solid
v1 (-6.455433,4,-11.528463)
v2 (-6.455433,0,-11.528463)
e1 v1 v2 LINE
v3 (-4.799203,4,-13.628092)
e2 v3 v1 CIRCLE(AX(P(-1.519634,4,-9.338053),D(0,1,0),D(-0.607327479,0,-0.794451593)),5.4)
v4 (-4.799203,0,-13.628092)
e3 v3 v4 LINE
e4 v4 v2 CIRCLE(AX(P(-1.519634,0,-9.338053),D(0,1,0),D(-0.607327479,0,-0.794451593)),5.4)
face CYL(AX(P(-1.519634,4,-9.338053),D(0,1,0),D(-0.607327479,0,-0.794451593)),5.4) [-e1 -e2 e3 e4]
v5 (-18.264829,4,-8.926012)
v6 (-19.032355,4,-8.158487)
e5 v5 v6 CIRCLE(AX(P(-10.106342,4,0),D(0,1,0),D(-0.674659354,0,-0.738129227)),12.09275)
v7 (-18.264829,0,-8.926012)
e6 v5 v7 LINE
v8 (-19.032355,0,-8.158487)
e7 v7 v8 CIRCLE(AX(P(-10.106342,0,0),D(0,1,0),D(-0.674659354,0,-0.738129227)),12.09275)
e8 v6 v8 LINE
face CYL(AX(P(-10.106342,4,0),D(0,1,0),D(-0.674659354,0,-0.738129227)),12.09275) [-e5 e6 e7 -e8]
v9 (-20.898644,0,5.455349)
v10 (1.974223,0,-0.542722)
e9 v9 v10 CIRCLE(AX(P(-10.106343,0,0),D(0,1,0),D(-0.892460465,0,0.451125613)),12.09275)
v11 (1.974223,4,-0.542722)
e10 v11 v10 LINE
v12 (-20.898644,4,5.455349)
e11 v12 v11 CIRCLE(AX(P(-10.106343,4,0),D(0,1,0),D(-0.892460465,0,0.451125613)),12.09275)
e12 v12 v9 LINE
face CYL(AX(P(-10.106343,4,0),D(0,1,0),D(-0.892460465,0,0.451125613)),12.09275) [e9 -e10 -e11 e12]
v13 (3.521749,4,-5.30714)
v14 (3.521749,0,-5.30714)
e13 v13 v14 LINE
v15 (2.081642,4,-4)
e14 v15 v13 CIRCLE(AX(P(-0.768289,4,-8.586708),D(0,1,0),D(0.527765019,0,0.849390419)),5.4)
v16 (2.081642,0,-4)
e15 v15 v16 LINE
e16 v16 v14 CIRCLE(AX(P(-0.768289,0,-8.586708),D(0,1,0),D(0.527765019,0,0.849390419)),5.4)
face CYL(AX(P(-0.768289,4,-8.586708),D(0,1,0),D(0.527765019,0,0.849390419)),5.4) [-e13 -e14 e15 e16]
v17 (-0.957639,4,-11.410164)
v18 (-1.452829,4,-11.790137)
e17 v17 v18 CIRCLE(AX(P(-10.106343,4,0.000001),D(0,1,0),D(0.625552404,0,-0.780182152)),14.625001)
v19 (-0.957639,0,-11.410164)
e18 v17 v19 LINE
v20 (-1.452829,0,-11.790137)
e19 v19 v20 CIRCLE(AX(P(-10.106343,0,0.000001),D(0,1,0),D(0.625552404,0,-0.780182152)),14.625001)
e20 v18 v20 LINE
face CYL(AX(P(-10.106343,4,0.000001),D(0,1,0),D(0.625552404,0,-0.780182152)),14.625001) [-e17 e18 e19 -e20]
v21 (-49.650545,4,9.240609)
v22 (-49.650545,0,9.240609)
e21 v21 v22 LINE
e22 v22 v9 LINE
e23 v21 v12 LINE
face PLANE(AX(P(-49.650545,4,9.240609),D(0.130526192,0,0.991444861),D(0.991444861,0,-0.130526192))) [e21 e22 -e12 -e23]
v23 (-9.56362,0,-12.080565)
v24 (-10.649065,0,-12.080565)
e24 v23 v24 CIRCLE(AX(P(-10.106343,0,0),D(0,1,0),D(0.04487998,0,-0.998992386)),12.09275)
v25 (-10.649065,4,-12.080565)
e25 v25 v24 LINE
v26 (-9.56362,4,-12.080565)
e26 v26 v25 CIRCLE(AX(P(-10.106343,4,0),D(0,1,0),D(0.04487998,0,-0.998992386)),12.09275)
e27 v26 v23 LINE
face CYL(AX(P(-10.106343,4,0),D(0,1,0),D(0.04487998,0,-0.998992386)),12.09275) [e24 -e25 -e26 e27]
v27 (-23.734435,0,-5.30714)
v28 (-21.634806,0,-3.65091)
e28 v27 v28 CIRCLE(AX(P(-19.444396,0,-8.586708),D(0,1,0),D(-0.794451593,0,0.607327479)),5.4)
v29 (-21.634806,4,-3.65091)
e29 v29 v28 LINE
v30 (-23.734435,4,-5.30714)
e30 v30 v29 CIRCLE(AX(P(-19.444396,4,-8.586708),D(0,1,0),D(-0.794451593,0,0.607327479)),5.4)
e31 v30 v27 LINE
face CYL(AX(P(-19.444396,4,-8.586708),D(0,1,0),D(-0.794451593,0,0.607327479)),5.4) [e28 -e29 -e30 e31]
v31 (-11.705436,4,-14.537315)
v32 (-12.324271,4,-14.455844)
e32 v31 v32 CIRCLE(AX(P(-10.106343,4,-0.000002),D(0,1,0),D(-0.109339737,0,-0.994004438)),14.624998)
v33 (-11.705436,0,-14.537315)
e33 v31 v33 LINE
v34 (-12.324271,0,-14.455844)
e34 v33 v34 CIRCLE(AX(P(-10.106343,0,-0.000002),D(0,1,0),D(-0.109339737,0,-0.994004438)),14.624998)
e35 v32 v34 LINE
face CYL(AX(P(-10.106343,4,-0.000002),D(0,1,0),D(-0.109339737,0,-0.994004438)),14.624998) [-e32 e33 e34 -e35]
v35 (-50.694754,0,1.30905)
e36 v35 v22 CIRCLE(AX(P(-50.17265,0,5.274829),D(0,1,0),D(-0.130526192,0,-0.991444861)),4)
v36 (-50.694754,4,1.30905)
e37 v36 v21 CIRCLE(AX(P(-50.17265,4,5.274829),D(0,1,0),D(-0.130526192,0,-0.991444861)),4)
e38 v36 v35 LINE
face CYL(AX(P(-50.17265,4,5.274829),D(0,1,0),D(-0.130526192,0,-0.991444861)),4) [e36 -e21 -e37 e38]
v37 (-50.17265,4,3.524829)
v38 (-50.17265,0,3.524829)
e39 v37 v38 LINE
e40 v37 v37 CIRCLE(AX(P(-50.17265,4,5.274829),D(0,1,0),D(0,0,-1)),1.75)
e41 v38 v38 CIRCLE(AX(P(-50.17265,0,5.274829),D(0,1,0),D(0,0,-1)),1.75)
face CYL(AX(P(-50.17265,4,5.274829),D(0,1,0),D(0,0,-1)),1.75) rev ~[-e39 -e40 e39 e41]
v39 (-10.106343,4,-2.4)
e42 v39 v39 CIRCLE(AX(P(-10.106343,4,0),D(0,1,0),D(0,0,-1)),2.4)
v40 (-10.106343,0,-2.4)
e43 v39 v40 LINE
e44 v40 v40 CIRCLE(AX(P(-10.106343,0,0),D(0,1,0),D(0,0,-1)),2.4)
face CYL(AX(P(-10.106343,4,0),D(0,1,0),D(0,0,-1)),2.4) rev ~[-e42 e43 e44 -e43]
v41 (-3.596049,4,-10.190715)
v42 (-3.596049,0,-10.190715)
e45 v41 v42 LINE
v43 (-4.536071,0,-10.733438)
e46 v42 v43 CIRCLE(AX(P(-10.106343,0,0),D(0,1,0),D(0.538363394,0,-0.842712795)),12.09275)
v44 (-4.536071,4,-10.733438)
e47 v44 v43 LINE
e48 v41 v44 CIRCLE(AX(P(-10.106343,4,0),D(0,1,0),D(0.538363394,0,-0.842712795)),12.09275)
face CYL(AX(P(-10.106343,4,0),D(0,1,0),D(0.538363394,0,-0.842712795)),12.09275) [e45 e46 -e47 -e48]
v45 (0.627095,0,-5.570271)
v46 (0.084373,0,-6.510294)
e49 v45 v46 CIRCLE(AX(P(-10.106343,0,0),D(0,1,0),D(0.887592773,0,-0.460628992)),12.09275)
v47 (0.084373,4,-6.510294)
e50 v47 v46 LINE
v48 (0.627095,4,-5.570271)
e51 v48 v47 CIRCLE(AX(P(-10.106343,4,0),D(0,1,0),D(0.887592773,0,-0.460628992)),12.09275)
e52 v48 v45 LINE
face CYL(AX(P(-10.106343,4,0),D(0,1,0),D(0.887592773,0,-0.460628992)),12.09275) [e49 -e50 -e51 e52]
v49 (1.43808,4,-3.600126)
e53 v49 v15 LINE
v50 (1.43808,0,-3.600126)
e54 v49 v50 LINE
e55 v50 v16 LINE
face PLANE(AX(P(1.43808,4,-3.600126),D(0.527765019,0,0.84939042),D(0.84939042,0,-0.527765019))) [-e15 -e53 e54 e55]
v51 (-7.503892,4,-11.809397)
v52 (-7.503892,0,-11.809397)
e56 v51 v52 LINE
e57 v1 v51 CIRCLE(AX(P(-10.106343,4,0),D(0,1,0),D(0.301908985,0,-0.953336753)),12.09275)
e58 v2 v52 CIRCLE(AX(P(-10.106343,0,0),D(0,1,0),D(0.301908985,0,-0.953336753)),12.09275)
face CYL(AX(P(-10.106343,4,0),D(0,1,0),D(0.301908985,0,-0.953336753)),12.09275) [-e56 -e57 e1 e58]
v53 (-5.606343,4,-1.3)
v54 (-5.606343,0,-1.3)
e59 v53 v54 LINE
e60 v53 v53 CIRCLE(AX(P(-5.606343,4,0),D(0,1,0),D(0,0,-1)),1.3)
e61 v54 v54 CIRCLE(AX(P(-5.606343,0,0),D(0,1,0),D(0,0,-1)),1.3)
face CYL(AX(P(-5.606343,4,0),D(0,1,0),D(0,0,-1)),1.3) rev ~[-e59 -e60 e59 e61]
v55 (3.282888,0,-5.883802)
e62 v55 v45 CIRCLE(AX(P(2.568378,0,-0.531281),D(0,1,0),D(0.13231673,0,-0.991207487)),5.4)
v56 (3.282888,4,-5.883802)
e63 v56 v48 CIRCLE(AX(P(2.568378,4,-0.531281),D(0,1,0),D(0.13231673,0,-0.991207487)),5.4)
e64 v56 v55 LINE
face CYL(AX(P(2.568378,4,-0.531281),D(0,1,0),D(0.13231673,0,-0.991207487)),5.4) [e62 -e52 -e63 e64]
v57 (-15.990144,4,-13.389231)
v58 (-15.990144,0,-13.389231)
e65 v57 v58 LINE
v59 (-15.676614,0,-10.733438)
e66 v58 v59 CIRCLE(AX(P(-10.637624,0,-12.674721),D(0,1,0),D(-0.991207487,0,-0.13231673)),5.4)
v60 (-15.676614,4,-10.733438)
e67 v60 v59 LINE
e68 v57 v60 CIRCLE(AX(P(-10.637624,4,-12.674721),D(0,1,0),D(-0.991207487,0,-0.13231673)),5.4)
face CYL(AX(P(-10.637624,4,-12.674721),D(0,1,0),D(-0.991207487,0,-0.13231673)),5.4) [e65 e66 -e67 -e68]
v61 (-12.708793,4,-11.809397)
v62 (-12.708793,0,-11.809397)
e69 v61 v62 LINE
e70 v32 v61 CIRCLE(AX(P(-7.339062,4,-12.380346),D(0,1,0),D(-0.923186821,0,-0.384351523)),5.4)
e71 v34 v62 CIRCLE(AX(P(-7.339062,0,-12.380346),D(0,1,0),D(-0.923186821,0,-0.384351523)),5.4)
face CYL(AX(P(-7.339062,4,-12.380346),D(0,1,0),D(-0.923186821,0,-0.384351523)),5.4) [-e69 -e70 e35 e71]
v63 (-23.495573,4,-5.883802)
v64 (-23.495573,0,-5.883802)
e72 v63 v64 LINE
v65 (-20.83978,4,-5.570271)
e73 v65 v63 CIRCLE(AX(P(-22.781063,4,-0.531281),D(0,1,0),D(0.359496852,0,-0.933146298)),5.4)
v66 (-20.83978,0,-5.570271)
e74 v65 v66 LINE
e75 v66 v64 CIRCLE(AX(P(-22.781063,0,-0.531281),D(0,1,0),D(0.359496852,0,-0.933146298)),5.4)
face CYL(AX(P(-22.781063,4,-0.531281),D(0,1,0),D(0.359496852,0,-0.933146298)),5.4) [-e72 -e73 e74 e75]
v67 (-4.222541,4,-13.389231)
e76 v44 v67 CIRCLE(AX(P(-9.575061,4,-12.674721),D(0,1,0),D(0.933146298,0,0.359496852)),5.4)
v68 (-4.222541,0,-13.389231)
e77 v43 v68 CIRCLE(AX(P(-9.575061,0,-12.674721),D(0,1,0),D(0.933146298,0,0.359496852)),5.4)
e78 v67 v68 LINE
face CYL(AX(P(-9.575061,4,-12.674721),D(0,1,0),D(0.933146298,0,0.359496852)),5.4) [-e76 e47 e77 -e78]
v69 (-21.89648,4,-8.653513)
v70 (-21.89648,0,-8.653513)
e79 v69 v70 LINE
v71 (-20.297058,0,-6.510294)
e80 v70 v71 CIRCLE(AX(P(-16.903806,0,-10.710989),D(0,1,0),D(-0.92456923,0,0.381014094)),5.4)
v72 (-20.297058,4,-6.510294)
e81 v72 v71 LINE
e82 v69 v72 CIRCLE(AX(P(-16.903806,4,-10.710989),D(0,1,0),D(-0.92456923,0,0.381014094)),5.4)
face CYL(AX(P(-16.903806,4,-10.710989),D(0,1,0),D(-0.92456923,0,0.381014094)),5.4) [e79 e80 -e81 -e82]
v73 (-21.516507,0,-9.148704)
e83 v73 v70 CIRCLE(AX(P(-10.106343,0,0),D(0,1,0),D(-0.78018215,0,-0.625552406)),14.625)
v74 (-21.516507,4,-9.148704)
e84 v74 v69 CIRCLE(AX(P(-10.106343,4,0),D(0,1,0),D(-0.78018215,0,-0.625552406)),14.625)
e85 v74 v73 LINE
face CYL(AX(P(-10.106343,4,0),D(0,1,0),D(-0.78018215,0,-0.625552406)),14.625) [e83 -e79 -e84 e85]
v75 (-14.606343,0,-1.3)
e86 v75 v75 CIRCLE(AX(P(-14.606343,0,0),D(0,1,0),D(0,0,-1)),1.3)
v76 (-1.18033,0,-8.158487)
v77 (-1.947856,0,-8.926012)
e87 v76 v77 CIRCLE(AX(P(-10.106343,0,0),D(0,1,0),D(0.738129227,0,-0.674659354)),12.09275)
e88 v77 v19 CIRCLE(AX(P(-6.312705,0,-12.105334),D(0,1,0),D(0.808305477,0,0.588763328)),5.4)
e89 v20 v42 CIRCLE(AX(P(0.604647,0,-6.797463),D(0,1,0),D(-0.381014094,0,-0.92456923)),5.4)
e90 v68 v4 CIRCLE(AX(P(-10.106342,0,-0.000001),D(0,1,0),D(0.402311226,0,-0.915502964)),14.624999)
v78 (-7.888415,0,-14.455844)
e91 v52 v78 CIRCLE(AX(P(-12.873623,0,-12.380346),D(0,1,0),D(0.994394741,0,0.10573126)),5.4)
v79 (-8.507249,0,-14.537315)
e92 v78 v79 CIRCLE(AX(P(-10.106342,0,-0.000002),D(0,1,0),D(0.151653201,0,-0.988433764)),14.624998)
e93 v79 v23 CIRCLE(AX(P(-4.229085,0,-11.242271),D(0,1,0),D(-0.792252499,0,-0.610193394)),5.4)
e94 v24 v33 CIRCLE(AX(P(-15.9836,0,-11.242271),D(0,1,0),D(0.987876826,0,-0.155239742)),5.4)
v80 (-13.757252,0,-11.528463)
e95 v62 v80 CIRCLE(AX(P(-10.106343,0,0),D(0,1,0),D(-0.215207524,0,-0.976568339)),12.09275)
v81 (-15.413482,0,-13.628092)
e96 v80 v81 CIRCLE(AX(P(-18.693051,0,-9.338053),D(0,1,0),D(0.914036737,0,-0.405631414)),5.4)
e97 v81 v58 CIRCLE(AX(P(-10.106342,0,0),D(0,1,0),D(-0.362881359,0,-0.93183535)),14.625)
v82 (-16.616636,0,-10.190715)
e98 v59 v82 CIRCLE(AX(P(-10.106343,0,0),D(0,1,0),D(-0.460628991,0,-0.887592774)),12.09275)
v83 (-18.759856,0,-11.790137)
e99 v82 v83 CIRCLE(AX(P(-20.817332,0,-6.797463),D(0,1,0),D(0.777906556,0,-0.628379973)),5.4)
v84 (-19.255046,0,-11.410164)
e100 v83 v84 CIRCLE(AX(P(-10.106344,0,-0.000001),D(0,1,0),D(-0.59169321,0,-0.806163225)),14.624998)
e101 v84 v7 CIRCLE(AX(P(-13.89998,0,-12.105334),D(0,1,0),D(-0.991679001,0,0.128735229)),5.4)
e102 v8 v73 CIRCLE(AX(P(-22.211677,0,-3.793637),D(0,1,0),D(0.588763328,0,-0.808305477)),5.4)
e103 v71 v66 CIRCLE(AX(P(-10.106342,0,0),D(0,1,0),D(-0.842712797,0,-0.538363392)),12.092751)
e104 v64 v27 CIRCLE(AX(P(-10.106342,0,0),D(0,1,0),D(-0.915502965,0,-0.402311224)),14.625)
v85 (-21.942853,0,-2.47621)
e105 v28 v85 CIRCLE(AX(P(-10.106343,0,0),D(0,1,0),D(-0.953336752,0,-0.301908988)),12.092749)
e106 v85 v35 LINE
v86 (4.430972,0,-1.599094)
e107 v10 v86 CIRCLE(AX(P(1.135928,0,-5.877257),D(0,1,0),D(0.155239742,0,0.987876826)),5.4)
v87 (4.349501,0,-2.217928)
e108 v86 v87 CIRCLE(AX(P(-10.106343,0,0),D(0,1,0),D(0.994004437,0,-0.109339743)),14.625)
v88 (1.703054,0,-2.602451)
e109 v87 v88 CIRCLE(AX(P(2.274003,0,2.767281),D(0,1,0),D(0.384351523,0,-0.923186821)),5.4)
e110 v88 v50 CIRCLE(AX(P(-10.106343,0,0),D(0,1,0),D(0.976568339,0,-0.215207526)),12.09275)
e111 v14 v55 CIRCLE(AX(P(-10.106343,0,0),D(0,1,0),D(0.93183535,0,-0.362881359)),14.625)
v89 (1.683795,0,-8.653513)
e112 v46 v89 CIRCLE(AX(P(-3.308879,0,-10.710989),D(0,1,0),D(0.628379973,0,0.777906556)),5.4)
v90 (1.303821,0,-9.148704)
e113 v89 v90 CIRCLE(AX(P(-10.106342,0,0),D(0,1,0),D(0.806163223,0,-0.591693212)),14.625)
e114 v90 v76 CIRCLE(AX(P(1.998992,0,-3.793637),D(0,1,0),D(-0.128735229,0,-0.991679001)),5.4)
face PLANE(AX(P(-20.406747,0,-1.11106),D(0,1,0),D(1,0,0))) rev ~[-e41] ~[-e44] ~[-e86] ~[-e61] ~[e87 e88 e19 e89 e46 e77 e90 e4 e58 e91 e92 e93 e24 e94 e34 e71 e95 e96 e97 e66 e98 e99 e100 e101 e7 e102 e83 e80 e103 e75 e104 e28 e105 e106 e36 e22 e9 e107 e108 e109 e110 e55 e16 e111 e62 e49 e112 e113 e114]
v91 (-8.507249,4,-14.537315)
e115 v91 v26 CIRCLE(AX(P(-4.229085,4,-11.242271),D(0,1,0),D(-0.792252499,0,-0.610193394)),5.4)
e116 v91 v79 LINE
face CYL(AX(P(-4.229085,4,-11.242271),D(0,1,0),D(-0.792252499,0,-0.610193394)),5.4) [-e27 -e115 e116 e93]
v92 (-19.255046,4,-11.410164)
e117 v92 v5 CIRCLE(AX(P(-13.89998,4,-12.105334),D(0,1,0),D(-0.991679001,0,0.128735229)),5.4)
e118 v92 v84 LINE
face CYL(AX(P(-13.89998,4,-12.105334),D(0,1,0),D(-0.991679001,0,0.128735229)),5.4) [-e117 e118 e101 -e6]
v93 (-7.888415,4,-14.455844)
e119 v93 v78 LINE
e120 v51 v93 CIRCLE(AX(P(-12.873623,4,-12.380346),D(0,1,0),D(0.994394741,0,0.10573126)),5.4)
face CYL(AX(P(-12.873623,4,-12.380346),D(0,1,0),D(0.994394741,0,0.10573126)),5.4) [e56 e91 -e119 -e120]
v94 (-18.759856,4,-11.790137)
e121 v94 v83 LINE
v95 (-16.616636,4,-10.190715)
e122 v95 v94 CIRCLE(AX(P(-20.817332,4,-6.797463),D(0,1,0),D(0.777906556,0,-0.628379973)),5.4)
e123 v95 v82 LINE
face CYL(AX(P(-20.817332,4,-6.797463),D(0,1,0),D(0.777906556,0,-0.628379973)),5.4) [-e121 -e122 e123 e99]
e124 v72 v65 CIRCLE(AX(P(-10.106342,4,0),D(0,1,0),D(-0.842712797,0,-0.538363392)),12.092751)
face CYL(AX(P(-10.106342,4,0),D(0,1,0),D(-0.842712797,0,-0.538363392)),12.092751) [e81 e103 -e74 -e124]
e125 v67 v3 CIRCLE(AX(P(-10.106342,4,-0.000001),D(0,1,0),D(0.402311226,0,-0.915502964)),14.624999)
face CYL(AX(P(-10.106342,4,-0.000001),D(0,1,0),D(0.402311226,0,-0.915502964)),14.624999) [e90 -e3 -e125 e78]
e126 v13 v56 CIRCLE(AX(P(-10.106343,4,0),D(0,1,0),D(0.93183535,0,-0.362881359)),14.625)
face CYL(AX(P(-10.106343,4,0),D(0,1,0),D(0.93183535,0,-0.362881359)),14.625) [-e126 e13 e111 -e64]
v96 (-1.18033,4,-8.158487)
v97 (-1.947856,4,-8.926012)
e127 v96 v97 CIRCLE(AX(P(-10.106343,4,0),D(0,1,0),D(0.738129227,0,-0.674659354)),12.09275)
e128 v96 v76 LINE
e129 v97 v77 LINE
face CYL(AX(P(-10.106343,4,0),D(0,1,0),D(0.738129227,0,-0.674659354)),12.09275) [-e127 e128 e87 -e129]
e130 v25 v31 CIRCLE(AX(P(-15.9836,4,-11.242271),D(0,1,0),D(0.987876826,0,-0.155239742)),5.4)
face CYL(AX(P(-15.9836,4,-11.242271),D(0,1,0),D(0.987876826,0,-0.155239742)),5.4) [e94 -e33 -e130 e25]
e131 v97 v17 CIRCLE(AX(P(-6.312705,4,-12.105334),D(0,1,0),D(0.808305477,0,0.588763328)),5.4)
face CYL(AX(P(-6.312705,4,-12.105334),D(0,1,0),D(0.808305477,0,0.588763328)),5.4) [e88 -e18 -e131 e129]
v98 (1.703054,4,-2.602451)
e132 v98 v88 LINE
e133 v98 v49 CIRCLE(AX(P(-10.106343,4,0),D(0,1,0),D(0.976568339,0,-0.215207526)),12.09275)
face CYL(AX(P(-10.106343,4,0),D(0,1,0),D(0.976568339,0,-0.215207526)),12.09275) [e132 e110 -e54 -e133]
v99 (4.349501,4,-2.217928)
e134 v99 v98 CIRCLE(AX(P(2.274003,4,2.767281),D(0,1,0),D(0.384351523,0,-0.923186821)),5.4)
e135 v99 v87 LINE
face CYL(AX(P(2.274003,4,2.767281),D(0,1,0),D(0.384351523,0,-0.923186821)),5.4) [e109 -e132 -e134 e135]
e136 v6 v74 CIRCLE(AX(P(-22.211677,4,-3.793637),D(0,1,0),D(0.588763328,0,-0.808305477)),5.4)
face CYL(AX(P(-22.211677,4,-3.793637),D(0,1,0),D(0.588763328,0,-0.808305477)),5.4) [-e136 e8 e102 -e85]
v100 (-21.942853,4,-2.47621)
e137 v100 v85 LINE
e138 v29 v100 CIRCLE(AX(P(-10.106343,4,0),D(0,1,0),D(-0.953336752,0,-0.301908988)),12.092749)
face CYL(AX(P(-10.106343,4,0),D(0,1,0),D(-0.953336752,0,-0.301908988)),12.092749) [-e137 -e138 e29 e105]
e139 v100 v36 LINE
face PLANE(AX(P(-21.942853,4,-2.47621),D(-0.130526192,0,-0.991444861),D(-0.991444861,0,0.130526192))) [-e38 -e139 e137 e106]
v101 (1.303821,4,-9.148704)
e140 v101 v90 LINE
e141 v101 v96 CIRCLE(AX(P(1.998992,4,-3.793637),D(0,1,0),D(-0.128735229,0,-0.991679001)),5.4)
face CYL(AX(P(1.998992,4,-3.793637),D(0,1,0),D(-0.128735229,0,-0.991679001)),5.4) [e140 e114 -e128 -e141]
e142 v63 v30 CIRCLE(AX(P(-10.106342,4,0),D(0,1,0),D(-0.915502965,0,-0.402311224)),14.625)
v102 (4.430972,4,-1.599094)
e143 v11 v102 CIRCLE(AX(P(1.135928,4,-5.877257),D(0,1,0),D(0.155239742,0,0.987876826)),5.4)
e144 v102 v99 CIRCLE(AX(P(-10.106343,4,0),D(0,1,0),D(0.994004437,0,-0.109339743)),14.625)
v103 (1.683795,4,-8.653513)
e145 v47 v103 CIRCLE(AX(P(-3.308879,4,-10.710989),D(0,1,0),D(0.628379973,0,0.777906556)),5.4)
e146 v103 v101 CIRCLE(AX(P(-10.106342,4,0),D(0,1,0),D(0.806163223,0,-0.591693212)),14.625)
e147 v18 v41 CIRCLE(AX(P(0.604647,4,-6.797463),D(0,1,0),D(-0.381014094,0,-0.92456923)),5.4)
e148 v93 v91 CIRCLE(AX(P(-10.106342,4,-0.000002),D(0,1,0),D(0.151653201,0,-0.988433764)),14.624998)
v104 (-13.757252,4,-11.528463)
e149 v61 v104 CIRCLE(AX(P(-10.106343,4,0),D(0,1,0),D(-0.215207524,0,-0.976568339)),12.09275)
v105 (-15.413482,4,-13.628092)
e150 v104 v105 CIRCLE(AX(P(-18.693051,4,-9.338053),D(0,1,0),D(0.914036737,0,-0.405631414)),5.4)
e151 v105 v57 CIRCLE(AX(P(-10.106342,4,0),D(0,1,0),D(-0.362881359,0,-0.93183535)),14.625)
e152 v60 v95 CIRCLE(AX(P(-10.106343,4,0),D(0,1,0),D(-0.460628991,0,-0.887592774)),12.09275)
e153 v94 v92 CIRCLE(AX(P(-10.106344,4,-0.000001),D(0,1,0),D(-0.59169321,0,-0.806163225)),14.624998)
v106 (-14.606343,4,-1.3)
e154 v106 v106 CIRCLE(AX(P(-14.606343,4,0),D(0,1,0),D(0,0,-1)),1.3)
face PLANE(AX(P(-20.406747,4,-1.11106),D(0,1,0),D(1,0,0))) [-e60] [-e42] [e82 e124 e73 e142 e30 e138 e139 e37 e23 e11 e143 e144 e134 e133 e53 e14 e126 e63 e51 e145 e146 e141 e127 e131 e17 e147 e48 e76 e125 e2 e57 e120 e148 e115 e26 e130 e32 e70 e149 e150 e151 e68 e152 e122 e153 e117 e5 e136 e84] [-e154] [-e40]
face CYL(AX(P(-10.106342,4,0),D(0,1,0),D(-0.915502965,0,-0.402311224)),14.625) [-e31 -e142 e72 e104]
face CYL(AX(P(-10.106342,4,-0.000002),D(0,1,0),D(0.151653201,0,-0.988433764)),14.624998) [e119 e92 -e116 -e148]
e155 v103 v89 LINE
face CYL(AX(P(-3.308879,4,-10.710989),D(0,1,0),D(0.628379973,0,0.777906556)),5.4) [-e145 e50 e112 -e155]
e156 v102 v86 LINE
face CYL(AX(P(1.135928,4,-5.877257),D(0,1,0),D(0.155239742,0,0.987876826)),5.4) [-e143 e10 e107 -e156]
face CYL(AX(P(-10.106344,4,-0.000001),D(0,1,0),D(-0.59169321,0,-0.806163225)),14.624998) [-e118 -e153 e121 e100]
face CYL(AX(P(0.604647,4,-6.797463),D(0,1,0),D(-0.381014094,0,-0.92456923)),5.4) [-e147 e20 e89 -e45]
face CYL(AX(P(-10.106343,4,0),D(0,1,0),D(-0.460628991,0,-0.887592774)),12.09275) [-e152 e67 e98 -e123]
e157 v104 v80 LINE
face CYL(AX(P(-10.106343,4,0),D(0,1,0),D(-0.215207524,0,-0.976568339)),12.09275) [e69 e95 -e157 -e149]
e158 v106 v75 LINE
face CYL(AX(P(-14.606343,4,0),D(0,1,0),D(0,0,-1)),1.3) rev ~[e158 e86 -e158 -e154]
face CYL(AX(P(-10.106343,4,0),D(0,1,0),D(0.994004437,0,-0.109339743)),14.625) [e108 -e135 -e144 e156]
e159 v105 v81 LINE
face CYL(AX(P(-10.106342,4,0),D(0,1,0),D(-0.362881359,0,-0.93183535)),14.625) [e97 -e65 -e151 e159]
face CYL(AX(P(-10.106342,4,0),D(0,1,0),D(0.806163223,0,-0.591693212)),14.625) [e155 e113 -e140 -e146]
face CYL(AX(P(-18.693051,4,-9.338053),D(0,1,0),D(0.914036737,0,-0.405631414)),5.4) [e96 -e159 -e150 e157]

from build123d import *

# Parameters (mm, degrees)
SKETCH1_R           = 1.75
SKETCH1_R_2         = 2.4
SKETCH1_R_3         = 1.3
BOSS_EXTRUDE1_DEPTH = 4


with BuildPart() as part:
    # Sketch1 → Boss-Extrude1 (new body)
    with BuildSketch(Plane(origin=(0, 4, 0), x_dir=(1, 0, 0), z_dir=(0, 1, 0))):
        with BuildLine():
            Line((1.43808022, 3.600125745), (2.081641936, 4))
            ThreePointArc((2.081641936, 4), (2.861028333, 4.588201733), (3.521749436, 5.30713988))
            ThreePointArc((3.521749436, 5.30713988), (3.405395609, 5.596745198), (3.282888305, 5.883801663))
            ThreePointArc((3.282888305, 5.883801663), (1.93527598, 5.894040025), (0.627094961, 5.57027124))
            ThreePointArc((0.627094961, 5.57027124), (0.366286148, 6.046375), (0.084372603, 6.510293938))
            ThreePointArc((0.084372603, 6.510293938), (1.018855105, 7.48132754), (1.683794586, 8.65351323))
            ThreePointArc((1.683794586, 8.65351323), (1.496450048, 8.903135899), (1.303821399, 9.148703928))
            ThreePointArc((1.303821399, 9.148703928), (-0.000522033, 8.809805691), (-1.180330337, 8.158486898))
            ThreePointArc((-1.180330337, 8.158486898), (-1.555477026, 8.550865528), (-1.947855656, 8.926012217))
            ThreePointArc((-1.947855656, 8.926012217), (-1.296536862, 10.105820521), (-0.957638625, 11.410163953))
            ThreePointArc((-0.957638625, 11.410163953), (-1.203206655, 11.602792602), (-1.452829324, 11.79013714))
            ThreePointArc((-1.452829324, 11.79013714), (-2.625015014, 11.125197659), (-3.596048616, 10.190715157))
            ThreePointArc((-3.596048616, 10.190715157), (-4.059967554, 10.472628702), (-4.536071314, 10.733437515))
            ThreePointArc((-4.536071314, 10.733437515), (-4.212302529, 12.041618533), (-4.222540891, 13.389230859))
            ThreePointArc((-4.222540891, 13.389230859), (-4.509597355, 13.511738163), (-4.799202674, 13.62809199))
            ThreePointArc((-4.799202674, 13.62809199), (-5.759348103, 12.682425791), (-6.455432668, 11.528463019))
            ThreePointArc((-6.455432668, 11.528463019), (-6.976508546, 11.680699536), (-7.503891752, 11.809396783))
            ThreePointArc((-7.503891752, 11.809396783), (-7.529737283, 13.156800143), (-7.888414517, 14.455843809))
            ThreePointArc((-7.888414517, 14.455843809), (-8.197396993, 14.499881098), (-8.507248835, 14.537314892))
            ThreePointArc((-8.507248835, 14.537314892), (-9.18992168, 13.375367565), (-9.563620196, 12.080565177))
            ThreePointArc((-9.563620196, 12.080565177), (-10.106342554, 12.09275), (-10.649064912, 12.080565177))
            ThreePointArc((-10.649064912, 12.080565177), (-11.022763428, 13.375367565), (-11.705436272, 14.537314892))
            ThreePointArc((-11.705436272, 14.537314892), (-12.015288115, 14.499881098), (-12.324270591, 14.455843809))
            ThreePointArc((-12.324270591, 14.455843809), (-12.682947825, 13.156800143), (-12.708793355, 11.809396783))
            ThreePointArc((-12.708793355, 11.809396783), (-13.236176561, 11.680699536), (-13.757252439, 11.528463019))
            ThreePointArc((-13.757252439, 11.528463019), (-14.453337005, 12.682425791), (-15.413482434, 13.62809199))
            ThreePointArc((-15.413482434, 13.62809199), (-15.703087752, 13.511738163), (-15.990144217, 13.389230859))
            ThreePointArc((-15.990144217, 13.389230859), (-16.000382579, 12.041618533), (-15.676613793, 10.733437515))
            ThreePointArc((-15.676613793, 10.733437515), (-16.152717554, 10.472628702), (-16.616636492, 10.190715157))
            ThreePointArc((-16.616636492, 10.190715157), (-17.587670094, 11.125197659), (-18.759855783, 11.79013714))
            ThreePointArc((-18.759855783, 11.79013714), (-19.009478453, 11.602792602), (-19.255046482, 11.410163953))
            ThreePointArc((-19.255046482, 11.410163953), (-18.916148245, 10.105820521), (-18.264829452, 8.926012217))
            ThreePointArc((-18.264829452, 8.926012217), (-18.657208082, 8.550865528), (-19.032354771, 8.158486898))
            ThreePointArc((-19.032354771, 8.158486898), (-20.212163074, 8.809805691), (-21.516506507, 9.148703928))
            ThreePointArc((-21.516506507, 9.148703928), (-21.709135156, 8.903135899), (-21.896479694, 8.65351323))
            ThreePointArc((-21.896479694, 8.65351323), (-21.231540213, 7.48132754), (-20.297057711, 6.510293938))
            ThreePointArc((-20.297057711, 6.510293938), (-20.578971255, 6.046375), (-20.839780068, 5.57027124))
            ThreePointArc((-20.839780068, 5.57027124), (-22.147961087, 5.894040025), (-23.495573413, 5.883801663))
            ThreePointArc((-23.495573413, 5.883801663), (-23.618080717, 5.596745198), (-23.734434544, 5.30713988))
            ThreePointArc((-23.734434544, 5.30713988), (-22.788768345, 4.346994451), (-21.634805572, 3.650909885))
            ThreePointArc((-21.634805572, 3.650909885), (-21.803584999, 3.067429176), (-21.942853375, 2.47620963))
            Line((-21.942853375, 2.47620963), (-50.694754355, -1.309049944))
            ThreePointArc((-50.694754355, -1.309049944), (-54.138429032, -5.796934159), (-49.650544818, -9.240608835))
            Line((-49.650544818, -9.240608835), (-20.898643838, -5.455349261))
            ThreePointArc((-20.898643838, -5.455349261), (-7.038913378, -11.697242445), (1.974222624, 0.542722358))
            ThreePointArc((1.974222624, 0.542722358), (3.269025011, 0.916420874), (4.430972339, 1.599093719))
            ThreePointArc((4.430972339, 1.599093719), (4.393538544, 1.908945561), (4.349501255, 2.217928037))
            ThreePointArc((4.349501255, 2.217928037), (3.050457589, 2.576605271), (1.70305423, 2.602450802))
            ThreePointArc((1.70305423, 2.602450802), (1.581217534, 3.104116905), (1.43808022, 3.600125745))
        make_face()
        with Locations(Location((-50.172649586, -5.27482939, 0), (0, 0, 90))):
            Circle(SKETCH1_R, mode=Mode.SUBTRACT)
        with Locations(Location((-10.106342554, 0, 0), (0, 0, 90))):
            Circle(SKETCH1_R_2, mode=Mode.SUBTRACT)
        with Locations(Location((-5.606342554, 0, 0), (0, 0, 90))):
            Circle(SKETCH1_R_3, mode=Mode.SUBTRACT)
        with Locations(Location((-14.606342554, 0, 0), (0, 0, 90))):
            Circle(SKETCH1_R_3, mode=Mode.SUBTRACT)
    extrude(amount=-BOSS_EXTRUDE1_DEPTH)


solid = part.part
